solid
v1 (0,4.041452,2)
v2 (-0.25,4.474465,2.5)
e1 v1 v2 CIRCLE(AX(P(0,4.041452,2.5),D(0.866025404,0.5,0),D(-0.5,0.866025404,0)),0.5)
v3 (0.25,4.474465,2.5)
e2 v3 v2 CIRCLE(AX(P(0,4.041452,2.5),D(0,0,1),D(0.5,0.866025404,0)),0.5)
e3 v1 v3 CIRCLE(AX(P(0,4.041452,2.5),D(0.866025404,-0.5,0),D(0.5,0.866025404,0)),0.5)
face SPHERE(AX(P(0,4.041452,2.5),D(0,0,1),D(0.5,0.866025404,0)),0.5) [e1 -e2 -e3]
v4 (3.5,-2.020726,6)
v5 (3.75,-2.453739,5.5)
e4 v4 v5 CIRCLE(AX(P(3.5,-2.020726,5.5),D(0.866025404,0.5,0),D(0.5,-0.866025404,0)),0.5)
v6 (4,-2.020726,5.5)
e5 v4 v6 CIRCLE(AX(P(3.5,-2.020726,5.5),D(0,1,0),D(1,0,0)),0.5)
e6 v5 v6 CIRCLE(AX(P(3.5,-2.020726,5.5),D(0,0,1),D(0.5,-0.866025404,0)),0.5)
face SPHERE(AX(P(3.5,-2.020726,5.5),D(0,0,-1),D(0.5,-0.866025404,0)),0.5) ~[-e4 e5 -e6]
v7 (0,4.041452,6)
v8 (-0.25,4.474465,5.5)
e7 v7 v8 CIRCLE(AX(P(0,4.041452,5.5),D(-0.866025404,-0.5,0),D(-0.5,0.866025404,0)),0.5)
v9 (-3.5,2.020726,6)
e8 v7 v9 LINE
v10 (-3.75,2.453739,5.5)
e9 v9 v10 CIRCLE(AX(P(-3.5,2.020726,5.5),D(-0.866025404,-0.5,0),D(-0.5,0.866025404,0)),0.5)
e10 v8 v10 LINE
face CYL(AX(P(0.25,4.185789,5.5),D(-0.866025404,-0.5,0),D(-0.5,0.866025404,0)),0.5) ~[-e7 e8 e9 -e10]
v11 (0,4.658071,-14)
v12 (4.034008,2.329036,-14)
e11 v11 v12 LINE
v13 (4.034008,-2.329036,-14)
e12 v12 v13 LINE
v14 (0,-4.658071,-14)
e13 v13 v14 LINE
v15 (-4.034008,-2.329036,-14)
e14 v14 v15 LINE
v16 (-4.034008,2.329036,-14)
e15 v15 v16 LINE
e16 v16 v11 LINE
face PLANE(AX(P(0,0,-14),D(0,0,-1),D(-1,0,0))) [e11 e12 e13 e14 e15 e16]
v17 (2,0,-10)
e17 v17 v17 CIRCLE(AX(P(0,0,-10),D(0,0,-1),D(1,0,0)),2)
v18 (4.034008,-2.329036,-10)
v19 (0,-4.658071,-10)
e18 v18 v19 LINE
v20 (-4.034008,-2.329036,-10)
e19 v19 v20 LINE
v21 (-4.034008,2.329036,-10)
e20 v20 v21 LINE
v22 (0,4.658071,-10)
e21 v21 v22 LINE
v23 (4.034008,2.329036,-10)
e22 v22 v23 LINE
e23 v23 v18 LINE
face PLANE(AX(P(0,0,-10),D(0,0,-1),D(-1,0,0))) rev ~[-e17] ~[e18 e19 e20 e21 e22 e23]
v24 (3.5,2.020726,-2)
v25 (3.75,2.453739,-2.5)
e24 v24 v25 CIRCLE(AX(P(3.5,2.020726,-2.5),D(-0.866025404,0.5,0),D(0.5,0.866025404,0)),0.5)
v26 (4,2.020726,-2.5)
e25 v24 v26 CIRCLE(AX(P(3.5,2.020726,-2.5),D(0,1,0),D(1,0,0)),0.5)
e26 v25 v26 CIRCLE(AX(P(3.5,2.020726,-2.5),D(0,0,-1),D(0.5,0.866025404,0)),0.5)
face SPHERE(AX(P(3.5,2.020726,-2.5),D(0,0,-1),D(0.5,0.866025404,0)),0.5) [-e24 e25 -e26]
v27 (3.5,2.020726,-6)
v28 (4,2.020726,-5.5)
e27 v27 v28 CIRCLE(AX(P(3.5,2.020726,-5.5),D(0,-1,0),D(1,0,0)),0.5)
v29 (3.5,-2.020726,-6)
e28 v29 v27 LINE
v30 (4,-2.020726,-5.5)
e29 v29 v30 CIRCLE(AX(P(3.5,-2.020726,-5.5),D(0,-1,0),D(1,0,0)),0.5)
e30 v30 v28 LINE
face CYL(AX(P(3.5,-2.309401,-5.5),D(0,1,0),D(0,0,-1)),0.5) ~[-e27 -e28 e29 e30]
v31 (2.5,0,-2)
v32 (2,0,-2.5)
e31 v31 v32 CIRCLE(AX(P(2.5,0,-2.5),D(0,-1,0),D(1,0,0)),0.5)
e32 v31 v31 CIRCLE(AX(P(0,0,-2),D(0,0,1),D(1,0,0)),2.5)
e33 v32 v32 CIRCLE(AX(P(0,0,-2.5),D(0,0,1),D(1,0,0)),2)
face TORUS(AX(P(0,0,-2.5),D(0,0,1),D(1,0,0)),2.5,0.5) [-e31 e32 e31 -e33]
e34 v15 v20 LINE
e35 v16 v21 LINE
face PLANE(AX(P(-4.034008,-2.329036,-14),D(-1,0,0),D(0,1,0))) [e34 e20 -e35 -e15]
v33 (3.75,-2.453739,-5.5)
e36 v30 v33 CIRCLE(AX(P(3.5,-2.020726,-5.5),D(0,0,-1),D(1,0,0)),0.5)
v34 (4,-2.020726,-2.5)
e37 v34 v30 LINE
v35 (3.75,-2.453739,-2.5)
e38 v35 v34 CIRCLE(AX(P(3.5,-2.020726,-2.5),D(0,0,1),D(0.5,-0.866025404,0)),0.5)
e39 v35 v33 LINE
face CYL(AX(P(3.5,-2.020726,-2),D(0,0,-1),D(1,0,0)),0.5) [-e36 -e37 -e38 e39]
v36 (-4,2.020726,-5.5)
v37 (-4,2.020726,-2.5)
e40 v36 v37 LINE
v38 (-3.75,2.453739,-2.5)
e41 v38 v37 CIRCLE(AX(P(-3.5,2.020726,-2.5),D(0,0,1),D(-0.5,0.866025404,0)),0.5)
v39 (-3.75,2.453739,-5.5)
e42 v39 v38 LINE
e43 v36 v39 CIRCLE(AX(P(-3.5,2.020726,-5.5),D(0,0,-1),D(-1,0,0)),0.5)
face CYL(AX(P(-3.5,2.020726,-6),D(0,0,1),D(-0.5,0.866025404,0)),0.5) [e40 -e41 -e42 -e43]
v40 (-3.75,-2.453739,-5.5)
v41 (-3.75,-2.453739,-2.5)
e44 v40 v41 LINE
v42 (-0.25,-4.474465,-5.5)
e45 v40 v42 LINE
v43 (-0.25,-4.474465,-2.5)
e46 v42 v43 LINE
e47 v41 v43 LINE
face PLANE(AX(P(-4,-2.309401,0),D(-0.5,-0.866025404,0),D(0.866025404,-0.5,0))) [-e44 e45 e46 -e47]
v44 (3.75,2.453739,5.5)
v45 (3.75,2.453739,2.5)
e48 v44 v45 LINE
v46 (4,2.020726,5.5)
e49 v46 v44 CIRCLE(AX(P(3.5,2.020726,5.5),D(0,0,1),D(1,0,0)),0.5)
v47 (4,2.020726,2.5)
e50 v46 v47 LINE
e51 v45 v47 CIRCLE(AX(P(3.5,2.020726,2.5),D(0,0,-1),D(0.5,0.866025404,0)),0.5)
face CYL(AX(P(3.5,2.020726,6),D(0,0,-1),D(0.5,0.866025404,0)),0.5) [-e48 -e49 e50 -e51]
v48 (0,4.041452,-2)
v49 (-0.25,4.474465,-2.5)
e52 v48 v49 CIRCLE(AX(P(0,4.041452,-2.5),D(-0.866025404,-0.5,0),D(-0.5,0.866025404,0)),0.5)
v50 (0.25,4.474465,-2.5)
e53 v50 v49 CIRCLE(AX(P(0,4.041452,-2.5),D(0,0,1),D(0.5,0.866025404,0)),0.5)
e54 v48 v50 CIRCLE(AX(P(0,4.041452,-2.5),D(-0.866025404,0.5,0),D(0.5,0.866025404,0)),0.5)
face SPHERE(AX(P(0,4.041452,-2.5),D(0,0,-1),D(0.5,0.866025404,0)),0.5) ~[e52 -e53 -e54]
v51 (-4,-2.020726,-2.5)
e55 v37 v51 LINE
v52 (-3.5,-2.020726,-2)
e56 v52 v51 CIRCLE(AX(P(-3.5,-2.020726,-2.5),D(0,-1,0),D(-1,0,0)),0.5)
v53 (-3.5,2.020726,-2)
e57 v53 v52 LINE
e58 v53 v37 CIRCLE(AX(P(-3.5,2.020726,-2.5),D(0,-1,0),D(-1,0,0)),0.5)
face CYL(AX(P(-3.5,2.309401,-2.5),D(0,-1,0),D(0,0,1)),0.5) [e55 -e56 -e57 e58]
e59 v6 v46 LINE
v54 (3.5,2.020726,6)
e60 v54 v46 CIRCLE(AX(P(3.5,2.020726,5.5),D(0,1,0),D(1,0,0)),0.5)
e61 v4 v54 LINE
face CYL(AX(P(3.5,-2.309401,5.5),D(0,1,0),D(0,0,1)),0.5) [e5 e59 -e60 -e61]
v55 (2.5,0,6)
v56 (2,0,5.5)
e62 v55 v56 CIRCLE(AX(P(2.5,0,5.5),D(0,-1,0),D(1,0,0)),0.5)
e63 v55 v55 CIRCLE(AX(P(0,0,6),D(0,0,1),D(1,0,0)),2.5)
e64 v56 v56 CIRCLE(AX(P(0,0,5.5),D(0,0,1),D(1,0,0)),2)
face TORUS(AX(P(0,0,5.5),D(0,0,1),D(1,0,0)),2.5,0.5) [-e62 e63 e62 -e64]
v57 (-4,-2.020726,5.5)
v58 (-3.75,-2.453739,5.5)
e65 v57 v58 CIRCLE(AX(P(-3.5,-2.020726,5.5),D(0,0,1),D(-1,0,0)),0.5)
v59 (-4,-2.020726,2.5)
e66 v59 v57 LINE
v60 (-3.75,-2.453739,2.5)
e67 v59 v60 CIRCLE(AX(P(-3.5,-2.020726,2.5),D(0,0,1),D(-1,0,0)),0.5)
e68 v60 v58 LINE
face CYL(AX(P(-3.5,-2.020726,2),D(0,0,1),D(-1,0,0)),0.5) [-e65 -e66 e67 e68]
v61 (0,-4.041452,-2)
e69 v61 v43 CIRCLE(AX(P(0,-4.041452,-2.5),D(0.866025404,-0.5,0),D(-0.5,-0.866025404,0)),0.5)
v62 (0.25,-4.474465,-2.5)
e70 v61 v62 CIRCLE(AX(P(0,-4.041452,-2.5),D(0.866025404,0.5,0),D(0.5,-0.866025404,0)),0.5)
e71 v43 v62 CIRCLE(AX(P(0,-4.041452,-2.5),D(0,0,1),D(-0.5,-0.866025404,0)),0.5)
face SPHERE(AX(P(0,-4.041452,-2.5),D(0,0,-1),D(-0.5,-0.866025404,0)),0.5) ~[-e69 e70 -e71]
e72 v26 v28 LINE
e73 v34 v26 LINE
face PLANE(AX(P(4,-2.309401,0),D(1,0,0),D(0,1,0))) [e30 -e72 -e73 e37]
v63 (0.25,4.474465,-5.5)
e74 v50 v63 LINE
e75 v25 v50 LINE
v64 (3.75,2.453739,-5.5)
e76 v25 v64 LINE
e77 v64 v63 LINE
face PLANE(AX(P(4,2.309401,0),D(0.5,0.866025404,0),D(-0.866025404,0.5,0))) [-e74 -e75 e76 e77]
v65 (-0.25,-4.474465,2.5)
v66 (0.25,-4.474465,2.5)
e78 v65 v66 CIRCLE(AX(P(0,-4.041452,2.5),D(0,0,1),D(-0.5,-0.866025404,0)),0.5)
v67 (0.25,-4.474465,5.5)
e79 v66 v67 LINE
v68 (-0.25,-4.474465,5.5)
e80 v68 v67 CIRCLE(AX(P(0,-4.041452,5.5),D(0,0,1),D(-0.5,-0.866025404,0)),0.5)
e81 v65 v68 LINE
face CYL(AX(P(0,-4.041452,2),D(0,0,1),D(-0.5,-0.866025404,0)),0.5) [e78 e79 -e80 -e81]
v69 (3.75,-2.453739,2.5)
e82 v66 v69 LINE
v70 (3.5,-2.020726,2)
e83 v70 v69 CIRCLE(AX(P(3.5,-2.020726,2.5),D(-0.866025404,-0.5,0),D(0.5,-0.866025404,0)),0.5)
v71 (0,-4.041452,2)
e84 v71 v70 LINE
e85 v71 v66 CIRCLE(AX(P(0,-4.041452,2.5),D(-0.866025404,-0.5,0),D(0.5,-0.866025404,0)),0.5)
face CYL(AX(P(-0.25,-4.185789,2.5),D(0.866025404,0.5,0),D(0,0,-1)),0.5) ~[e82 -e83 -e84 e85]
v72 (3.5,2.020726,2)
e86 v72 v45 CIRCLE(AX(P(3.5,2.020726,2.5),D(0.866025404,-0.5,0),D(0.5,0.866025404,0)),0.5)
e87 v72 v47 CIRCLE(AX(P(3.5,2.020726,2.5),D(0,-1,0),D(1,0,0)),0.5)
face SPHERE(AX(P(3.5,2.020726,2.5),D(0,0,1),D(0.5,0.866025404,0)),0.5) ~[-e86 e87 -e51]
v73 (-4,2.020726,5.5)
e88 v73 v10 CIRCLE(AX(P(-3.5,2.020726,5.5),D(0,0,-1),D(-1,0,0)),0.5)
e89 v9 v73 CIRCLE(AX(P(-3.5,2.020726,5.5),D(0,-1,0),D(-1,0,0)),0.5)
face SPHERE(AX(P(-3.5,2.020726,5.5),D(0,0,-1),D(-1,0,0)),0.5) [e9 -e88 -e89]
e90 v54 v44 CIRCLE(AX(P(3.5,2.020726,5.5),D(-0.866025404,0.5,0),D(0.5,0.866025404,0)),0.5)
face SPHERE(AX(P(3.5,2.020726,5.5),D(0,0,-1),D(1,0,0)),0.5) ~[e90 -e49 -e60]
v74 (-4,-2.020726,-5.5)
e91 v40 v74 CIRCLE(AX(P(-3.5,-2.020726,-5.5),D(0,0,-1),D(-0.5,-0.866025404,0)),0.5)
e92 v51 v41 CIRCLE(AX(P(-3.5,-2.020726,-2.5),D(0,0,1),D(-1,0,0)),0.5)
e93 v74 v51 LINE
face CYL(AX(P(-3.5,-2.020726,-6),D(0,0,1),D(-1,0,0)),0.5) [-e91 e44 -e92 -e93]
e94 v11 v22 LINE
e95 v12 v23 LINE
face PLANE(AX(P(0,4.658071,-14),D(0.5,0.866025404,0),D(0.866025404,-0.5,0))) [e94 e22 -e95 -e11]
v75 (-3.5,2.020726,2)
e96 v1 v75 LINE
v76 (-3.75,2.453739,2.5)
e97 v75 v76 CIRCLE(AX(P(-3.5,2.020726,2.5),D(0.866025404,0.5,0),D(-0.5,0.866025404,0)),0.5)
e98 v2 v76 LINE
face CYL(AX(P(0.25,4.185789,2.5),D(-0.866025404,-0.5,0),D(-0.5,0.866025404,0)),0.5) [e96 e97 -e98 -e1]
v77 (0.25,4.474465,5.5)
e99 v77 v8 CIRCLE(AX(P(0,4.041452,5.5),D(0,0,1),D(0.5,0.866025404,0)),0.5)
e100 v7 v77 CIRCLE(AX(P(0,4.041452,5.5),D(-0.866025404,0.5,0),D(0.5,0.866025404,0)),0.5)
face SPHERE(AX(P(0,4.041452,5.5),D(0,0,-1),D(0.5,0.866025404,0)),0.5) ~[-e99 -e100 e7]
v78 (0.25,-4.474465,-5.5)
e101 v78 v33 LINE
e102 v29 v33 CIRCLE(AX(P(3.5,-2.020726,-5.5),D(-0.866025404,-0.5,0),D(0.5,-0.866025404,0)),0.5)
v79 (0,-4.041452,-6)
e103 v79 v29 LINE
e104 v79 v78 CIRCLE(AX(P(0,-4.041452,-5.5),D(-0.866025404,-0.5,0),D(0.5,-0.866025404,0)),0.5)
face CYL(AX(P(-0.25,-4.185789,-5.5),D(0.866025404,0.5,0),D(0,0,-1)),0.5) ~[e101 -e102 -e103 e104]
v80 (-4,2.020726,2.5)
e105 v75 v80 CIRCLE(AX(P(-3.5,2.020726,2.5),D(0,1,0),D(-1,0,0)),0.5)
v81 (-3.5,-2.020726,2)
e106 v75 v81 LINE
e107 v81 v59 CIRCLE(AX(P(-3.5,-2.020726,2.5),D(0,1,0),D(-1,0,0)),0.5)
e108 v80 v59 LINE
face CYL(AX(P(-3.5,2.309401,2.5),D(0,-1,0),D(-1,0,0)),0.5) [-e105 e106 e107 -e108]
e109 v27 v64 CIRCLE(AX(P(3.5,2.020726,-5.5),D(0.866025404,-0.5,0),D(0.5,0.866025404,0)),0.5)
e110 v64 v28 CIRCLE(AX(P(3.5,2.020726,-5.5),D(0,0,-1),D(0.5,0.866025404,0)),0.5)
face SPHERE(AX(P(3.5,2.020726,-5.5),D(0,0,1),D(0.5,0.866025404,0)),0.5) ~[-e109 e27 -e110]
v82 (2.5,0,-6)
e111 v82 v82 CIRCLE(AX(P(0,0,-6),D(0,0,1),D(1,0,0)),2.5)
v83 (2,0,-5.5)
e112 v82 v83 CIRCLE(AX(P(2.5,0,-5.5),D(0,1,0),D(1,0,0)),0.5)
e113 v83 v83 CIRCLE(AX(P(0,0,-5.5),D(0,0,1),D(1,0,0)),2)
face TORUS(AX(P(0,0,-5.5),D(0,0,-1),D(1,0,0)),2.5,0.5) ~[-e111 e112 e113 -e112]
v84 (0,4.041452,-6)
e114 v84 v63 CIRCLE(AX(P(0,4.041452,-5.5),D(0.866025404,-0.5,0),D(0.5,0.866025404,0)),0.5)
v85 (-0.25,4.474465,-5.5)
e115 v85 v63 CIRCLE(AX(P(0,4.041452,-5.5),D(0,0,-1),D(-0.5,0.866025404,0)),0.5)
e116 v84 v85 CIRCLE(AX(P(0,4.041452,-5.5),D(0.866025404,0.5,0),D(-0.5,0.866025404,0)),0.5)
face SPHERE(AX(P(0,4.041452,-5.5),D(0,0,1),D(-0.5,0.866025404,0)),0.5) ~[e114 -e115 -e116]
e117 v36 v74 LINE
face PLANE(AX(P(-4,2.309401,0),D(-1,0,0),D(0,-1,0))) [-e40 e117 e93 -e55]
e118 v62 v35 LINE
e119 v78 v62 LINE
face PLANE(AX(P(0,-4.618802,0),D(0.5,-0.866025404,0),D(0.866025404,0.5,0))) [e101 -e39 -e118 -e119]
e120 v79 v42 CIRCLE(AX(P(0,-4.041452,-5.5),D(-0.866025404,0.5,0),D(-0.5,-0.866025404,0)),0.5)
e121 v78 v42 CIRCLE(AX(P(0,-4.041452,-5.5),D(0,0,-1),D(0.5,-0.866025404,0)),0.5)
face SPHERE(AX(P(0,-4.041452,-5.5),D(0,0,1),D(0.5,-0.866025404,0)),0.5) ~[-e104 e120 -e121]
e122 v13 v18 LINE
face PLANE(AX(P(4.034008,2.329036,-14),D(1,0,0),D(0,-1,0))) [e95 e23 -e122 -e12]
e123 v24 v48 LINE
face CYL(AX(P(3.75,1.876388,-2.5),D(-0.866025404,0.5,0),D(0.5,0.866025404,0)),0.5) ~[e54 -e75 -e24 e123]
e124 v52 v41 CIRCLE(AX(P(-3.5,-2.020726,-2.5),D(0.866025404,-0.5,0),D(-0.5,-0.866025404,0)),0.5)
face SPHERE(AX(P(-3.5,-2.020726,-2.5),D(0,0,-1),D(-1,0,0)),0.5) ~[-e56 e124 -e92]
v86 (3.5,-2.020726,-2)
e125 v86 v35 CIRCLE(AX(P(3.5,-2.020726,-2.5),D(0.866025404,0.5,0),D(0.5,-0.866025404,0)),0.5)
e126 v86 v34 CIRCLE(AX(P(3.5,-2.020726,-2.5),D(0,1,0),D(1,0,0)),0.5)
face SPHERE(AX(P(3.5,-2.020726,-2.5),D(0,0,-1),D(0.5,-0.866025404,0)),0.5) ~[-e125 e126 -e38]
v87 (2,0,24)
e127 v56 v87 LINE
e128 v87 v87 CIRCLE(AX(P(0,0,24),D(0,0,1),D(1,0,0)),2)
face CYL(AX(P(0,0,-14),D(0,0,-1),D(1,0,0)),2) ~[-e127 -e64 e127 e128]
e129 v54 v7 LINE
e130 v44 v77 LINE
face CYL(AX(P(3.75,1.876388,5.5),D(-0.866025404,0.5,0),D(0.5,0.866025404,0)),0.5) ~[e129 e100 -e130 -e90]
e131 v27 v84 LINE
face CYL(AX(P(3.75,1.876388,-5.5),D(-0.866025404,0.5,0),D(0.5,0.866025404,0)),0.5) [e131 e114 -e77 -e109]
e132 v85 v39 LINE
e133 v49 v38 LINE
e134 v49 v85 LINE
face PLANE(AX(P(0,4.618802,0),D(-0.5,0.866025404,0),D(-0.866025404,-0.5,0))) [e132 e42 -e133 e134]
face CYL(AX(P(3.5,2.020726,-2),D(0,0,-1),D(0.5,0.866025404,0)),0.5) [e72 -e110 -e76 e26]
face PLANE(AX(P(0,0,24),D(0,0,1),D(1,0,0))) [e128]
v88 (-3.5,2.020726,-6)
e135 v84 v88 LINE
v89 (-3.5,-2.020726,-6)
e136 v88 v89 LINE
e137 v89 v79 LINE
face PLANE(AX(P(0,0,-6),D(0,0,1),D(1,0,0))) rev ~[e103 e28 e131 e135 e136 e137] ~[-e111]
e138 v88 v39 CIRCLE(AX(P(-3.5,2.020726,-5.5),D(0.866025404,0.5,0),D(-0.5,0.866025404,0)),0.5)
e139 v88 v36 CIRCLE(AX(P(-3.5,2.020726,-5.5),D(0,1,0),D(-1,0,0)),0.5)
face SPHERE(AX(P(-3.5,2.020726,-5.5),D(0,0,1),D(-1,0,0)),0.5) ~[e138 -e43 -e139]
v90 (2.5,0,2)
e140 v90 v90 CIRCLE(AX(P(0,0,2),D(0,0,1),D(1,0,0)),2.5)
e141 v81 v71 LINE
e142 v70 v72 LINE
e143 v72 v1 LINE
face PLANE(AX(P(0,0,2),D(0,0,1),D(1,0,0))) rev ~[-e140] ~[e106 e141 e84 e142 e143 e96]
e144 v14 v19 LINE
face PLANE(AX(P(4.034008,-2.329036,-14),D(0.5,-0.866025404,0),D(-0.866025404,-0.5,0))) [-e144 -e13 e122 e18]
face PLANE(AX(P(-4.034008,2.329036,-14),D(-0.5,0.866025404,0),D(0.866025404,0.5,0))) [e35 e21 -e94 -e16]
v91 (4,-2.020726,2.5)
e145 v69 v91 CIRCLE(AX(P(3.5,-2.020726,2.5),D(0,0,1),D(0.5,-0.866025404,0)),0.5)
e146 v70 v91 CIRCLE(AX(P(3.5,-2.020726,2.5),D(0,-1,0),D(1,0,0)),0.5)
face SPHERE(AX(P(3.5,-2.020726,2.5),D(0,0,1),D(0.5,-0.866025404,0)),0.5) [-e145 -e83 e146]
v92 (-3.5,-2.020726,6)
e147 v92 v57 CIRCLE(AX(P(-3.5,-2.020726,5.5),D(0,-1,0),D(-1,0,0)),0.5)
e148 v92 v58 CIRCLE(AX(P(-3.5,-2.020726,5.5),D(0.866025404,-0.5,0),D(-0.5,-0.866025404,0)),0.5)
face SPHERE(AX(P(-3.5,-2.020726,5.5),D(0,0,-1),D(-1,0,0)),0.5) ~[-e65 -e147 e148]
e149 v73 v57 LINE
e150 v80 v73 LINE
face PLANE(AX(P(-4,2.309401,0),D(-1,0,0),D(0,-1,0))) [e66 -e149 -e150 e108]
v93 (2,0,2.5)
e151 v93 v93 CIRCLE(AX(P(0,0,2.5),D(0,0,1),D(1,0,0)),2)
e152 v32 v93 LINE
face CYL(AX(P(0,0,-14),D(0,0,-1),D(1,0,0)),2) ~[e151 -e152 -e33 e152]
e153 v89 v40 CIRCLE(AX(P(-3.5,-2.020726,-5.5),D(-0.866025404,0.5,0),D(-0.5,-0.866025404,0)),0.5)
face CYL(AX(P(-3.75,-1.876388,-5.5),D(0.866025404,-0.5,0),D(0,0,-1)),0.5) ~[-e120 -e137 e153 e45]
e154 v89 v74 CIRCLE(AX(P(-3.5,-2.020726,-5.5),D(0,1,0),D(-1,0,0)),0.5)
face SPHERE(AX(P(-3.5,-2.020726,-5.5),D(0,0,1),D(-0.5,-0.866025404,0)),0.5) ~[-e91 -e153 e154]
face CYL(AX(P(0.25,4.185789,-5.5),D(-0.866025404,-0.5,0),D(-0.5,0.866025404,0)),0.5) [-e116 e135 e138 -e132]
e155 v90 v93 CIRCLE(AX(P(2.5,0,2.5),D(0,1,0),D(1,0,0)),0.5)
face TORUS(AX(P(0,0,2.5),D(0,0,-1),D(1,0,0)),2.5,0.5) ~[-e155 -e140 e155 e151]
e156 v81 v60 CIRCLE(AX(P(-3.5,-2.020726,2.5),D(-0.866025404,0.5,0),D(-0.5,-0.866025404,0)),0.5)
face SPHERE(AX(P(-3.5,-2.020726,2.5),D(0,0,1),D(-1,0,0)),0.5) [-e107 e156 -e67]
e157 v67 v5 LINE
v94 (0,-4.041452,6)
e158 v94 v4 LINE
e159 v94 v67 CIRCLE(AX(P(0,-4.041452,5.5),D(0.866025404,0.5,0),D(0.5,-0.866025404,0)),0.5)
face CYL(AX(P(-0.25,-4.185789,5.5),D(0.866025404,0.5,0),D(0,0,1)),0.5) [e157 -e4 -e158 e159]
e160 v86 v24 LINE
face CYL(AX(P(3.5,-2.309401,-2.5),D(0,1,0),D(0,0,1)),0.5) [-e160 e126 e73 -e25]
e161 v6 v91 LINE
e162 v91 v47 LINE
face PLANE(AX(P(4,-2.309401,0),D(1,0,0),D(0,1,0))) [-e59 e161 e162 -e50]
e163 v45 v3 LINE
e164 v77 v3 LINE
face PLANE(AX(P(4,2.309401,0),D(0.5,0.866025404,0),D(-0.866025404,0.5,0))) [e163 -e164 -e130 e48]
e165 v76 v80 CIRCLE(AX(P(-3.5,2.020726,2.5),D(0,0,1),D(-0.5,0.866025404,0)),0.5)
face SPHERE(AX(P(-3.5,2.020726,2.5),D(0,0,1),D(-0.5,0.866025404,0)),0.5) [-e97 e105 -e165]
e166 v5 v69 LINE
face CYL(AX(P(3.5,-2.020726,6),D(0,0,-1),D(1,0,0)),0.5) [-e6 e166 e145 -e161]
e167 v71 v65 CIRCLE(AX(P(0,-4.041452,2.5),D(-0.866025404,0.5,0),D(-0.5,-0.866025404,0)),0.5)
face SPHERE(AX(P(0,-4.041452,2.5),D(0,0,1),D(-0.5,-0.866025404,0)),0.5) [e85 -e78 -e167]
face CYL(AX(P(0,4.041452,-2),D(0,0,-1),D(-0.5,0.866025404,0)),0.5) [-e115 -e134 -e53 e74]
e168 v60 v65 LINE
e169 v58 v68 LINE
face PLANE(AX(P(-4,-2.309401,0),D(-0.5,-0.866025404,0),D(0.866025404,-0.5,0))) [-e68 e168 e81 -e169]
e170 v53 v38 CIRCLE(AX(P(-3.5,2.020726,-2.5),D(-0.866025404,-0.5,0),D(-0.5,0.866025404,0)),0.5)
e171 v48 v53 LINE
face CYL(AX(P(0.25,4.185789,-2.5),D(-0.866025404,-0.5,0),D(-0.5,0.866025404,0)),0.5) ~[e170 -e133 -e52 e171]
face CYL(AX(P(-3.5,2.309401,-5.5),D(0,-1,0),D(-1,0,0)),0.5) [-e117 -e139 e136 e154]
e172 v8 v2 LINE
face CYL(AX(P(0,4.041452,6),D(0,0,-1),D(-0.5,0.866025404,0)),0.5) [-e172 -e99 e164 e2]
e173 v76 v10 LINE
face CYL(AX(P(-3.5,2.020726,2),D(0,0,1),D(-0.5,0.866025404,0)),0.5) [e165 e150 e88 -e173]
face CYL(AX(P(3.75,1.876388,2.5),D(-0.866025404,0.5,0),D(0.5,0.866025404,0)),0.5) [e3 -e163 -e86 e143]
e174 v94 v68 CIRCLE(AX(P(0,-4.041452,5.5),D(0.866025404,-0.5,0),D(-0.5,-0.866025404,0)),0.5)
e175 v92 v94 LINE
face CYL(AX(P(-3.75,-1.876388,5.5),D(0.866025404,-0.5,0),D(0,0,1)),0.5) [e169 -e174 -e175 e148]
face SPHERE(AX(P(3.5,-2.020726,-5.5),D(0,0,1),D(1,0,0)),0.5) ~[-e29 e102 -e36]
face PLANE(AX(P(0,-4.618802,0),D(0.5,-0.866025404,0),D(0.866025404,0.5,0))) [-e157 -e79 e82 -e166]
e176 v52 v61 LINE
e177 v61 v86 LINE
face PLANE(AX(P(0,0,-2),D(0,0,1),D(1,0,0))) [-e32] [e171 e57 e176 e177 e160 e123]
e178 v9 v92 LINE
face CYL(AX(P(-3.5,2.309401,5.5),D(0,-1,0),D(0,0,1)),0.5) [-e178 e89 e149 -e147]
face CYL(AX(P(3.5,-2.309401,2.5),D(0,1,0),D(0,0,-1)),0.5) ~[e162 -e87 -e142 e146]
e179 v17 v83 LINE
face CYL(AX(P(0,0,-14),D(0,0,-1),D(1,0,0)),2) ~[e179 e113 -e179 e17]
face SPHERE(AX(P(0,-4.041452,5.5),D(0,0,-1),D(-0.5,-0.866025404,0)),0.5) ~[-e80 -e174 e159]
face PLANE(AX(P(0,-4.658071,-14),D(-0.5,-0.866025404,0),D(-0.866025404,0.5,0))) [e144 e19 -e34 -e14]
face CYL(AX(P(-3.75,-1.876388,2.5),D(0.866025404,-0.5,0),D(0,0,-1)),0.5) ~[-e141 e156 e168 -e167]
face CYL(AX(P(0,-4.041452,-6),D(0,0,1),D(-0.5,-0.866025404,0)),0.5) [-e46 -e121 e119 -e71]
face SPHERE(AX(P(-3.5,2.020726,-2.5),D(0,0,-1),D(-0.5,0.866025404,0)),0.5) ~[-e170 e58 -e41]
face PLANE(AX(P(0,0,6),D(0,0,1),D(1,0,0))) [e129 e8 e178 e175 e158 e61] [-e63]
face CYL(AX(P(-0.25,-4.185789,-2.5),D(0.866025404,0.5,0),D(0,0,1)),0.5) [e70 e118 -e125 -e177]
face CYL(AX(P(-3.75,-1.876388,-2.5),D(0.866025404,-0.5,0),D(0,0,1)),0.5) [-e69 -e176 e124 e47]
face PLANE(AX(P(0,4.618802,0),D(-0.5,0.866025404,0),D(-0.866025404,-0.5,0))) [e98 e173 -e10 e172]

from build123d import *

# Parameters (mm, degrees)
SKETCH1_R                = 2
BOSS_EXTRUDE1_DEPTH      = 6
SKETCH1_2_R              = 2
CUT_EXTRUDE1_DEPTH       = 2
FILLET1_R                = 0.5
FILLET2_R                = 0.5
BOSS_EXTRUDE2_DEPTH      = 24
BOSS_EXTRUDE2_DEPTH_BACK = 14
SKETCH2_R                = 2
BOSS_EXTRUDE3_DEPTH      = 4


with BuildPart() as part:
    # Sketch1 → Boss-Extrude1 (new, symmetric)
    with BuildSketch(Plane.XY):
        Polygon((0, 4.618802154), (-4, 2.309401077), (-4, -2.309401077), (0, -4.618802154), (4, -2.309401077), (4, 2.309401077), align=None)
        Circle(SKETCH1_R, mode=Mode.SUBTRACT)
    extrude(amount=BOSS_EXTRUDE1_DEPTH, both=True)

    # Sketch1<2> → Cut-Extrude1 (cut, symmetric)
    with BuildSketch(Plane.XY):
        Polygon((0, 4.618802154), (-4, 2.309401077), (-4, -2.309401077), (0, -4.618802154), (4, -2.309401077), (4, 2.309401077), align=None)
        Circle(SKETCH1_2_R, mode=Mode.SUBTRACT)
    extrude(amount=CUT_EXTRUDE1_DEPTH, both=True, mode=Mode.SUBTRACT)


with BuildPart() as cut_extrude1_piece_1:
    # of the separate pieces the step leaves, piece 1, a body of its own (cut_extrude1_pieces)
    add(part.part.solids().sort_by_distance((0, 4.618802154, -2))[0])

    # Fillet2
    fillet2_edges = [cut_extrude1_piece_1.edges().sort_by_distance(p)[0] for p in [
        (2, 3.464101615, -6),
        (0, 4.618802154, -4),
        (-2, 3.464101615, -6),
        (-4, 2.309401077, -4),
        (-4, 0, -6),
        (-4, -2.309401077, -4),
        (-2, -3.464101615, -6),
        (0, -4.618802154, -4),
        (2, -3.464101615, -6),
        (4, -2.309401077, -4),
        (4, 0, -6),
        (-2, 0, -2),
        (-2, 0, -6),
        (2, 3.464101615, -2),
        (-2, 3.464101615, -2),
        (-4, 0, -2),
        (-2, -3.464101615, -2),
        (2, -3.464101615, -2),
        (4, 0, -2),
        (4, 2.309401077, -4),
    ]]
    fillet(fillet2_edges, radius=FILLET2_R)



with BuildPart() as cut_extrude1_piece_2:
    # of the separate pieces the step leaves, piece 2, a body of its own (cut_extrude1_pieces)
    add(part.part.solids().sort_by_distance((0, 4.618802154, 6))[0])

    # Fillet1
    fillet1_edges = [cut_extrude1_piece_2.edges().sort_by_distance(p)[0] for p in [
        (4, 2.309401077, 4),
        (4, -2.309401077, 4),
        (0, -4.618802154, 4),
        (-4, -2.309401077, 4),
        (-4, 2.309401077, 4),
        (0, 4.618802154, 4),
        (-4, 0, 6),
        (-2, -3.464101615, 6),
        (-2, 0, 6),
        (2, -3.464101615, 6),
        (4, 0, 6),
        (2, 3.464101615, 2),
        (-2, 3.464101615, 2),
        (-4, 0, 2),
        (-2, -3.464101615, 2),
        (2, -3.464101615, 2),
        (4, 0, 2),
        (-2, 0, 2),
        (2, 3.464101615, 6),
        (-2, 3.464101615, 6),
    ]]
    fillet(fillet1_edges, radius=FILLET1_R)


with BuildPart() as cut_extrude1_piece_1_1:
    add(cut_extrude1_piece_1.part)

    add(cut_extrude1_piece_2.part)  # Boss-Extrude2 merges Cut-Extrude1 piece 2
    # Sketch2 → Boss-Extrude2 (add, two sides: drawn at the far end of the back side and taken through both)
    with BuildSketch(Plane.XY.offset(-BOSS_EXTRUDE2_DEPTH_BACK)):
        Circle(SKETCH2_R)
    extrude(amount=BOSS_EXTRUDE2_DEPTH + BOSS_EXTRUDE2_DEPTH_BACK)

    # Sketch3 → Boss-Extrude3 (add)
    with BuildSketch(Plane(origin=(0, 0, -14), x_dir=(-1, 0, 0), z_dir=(0, 0, -1))):
        Polygon((0, 4.658071481), (-4.034008235, 2.32903574), (-4.034008235, -2.32903574), (0, -4.658071481), (4.034008235, -2.32903574), (4.034008235, 2.32903574), align=None)
    extrude(amount=-BOSS_EXTRUDE3_DEPTH)


solid = cut_extrude1_piece_1_1.part
